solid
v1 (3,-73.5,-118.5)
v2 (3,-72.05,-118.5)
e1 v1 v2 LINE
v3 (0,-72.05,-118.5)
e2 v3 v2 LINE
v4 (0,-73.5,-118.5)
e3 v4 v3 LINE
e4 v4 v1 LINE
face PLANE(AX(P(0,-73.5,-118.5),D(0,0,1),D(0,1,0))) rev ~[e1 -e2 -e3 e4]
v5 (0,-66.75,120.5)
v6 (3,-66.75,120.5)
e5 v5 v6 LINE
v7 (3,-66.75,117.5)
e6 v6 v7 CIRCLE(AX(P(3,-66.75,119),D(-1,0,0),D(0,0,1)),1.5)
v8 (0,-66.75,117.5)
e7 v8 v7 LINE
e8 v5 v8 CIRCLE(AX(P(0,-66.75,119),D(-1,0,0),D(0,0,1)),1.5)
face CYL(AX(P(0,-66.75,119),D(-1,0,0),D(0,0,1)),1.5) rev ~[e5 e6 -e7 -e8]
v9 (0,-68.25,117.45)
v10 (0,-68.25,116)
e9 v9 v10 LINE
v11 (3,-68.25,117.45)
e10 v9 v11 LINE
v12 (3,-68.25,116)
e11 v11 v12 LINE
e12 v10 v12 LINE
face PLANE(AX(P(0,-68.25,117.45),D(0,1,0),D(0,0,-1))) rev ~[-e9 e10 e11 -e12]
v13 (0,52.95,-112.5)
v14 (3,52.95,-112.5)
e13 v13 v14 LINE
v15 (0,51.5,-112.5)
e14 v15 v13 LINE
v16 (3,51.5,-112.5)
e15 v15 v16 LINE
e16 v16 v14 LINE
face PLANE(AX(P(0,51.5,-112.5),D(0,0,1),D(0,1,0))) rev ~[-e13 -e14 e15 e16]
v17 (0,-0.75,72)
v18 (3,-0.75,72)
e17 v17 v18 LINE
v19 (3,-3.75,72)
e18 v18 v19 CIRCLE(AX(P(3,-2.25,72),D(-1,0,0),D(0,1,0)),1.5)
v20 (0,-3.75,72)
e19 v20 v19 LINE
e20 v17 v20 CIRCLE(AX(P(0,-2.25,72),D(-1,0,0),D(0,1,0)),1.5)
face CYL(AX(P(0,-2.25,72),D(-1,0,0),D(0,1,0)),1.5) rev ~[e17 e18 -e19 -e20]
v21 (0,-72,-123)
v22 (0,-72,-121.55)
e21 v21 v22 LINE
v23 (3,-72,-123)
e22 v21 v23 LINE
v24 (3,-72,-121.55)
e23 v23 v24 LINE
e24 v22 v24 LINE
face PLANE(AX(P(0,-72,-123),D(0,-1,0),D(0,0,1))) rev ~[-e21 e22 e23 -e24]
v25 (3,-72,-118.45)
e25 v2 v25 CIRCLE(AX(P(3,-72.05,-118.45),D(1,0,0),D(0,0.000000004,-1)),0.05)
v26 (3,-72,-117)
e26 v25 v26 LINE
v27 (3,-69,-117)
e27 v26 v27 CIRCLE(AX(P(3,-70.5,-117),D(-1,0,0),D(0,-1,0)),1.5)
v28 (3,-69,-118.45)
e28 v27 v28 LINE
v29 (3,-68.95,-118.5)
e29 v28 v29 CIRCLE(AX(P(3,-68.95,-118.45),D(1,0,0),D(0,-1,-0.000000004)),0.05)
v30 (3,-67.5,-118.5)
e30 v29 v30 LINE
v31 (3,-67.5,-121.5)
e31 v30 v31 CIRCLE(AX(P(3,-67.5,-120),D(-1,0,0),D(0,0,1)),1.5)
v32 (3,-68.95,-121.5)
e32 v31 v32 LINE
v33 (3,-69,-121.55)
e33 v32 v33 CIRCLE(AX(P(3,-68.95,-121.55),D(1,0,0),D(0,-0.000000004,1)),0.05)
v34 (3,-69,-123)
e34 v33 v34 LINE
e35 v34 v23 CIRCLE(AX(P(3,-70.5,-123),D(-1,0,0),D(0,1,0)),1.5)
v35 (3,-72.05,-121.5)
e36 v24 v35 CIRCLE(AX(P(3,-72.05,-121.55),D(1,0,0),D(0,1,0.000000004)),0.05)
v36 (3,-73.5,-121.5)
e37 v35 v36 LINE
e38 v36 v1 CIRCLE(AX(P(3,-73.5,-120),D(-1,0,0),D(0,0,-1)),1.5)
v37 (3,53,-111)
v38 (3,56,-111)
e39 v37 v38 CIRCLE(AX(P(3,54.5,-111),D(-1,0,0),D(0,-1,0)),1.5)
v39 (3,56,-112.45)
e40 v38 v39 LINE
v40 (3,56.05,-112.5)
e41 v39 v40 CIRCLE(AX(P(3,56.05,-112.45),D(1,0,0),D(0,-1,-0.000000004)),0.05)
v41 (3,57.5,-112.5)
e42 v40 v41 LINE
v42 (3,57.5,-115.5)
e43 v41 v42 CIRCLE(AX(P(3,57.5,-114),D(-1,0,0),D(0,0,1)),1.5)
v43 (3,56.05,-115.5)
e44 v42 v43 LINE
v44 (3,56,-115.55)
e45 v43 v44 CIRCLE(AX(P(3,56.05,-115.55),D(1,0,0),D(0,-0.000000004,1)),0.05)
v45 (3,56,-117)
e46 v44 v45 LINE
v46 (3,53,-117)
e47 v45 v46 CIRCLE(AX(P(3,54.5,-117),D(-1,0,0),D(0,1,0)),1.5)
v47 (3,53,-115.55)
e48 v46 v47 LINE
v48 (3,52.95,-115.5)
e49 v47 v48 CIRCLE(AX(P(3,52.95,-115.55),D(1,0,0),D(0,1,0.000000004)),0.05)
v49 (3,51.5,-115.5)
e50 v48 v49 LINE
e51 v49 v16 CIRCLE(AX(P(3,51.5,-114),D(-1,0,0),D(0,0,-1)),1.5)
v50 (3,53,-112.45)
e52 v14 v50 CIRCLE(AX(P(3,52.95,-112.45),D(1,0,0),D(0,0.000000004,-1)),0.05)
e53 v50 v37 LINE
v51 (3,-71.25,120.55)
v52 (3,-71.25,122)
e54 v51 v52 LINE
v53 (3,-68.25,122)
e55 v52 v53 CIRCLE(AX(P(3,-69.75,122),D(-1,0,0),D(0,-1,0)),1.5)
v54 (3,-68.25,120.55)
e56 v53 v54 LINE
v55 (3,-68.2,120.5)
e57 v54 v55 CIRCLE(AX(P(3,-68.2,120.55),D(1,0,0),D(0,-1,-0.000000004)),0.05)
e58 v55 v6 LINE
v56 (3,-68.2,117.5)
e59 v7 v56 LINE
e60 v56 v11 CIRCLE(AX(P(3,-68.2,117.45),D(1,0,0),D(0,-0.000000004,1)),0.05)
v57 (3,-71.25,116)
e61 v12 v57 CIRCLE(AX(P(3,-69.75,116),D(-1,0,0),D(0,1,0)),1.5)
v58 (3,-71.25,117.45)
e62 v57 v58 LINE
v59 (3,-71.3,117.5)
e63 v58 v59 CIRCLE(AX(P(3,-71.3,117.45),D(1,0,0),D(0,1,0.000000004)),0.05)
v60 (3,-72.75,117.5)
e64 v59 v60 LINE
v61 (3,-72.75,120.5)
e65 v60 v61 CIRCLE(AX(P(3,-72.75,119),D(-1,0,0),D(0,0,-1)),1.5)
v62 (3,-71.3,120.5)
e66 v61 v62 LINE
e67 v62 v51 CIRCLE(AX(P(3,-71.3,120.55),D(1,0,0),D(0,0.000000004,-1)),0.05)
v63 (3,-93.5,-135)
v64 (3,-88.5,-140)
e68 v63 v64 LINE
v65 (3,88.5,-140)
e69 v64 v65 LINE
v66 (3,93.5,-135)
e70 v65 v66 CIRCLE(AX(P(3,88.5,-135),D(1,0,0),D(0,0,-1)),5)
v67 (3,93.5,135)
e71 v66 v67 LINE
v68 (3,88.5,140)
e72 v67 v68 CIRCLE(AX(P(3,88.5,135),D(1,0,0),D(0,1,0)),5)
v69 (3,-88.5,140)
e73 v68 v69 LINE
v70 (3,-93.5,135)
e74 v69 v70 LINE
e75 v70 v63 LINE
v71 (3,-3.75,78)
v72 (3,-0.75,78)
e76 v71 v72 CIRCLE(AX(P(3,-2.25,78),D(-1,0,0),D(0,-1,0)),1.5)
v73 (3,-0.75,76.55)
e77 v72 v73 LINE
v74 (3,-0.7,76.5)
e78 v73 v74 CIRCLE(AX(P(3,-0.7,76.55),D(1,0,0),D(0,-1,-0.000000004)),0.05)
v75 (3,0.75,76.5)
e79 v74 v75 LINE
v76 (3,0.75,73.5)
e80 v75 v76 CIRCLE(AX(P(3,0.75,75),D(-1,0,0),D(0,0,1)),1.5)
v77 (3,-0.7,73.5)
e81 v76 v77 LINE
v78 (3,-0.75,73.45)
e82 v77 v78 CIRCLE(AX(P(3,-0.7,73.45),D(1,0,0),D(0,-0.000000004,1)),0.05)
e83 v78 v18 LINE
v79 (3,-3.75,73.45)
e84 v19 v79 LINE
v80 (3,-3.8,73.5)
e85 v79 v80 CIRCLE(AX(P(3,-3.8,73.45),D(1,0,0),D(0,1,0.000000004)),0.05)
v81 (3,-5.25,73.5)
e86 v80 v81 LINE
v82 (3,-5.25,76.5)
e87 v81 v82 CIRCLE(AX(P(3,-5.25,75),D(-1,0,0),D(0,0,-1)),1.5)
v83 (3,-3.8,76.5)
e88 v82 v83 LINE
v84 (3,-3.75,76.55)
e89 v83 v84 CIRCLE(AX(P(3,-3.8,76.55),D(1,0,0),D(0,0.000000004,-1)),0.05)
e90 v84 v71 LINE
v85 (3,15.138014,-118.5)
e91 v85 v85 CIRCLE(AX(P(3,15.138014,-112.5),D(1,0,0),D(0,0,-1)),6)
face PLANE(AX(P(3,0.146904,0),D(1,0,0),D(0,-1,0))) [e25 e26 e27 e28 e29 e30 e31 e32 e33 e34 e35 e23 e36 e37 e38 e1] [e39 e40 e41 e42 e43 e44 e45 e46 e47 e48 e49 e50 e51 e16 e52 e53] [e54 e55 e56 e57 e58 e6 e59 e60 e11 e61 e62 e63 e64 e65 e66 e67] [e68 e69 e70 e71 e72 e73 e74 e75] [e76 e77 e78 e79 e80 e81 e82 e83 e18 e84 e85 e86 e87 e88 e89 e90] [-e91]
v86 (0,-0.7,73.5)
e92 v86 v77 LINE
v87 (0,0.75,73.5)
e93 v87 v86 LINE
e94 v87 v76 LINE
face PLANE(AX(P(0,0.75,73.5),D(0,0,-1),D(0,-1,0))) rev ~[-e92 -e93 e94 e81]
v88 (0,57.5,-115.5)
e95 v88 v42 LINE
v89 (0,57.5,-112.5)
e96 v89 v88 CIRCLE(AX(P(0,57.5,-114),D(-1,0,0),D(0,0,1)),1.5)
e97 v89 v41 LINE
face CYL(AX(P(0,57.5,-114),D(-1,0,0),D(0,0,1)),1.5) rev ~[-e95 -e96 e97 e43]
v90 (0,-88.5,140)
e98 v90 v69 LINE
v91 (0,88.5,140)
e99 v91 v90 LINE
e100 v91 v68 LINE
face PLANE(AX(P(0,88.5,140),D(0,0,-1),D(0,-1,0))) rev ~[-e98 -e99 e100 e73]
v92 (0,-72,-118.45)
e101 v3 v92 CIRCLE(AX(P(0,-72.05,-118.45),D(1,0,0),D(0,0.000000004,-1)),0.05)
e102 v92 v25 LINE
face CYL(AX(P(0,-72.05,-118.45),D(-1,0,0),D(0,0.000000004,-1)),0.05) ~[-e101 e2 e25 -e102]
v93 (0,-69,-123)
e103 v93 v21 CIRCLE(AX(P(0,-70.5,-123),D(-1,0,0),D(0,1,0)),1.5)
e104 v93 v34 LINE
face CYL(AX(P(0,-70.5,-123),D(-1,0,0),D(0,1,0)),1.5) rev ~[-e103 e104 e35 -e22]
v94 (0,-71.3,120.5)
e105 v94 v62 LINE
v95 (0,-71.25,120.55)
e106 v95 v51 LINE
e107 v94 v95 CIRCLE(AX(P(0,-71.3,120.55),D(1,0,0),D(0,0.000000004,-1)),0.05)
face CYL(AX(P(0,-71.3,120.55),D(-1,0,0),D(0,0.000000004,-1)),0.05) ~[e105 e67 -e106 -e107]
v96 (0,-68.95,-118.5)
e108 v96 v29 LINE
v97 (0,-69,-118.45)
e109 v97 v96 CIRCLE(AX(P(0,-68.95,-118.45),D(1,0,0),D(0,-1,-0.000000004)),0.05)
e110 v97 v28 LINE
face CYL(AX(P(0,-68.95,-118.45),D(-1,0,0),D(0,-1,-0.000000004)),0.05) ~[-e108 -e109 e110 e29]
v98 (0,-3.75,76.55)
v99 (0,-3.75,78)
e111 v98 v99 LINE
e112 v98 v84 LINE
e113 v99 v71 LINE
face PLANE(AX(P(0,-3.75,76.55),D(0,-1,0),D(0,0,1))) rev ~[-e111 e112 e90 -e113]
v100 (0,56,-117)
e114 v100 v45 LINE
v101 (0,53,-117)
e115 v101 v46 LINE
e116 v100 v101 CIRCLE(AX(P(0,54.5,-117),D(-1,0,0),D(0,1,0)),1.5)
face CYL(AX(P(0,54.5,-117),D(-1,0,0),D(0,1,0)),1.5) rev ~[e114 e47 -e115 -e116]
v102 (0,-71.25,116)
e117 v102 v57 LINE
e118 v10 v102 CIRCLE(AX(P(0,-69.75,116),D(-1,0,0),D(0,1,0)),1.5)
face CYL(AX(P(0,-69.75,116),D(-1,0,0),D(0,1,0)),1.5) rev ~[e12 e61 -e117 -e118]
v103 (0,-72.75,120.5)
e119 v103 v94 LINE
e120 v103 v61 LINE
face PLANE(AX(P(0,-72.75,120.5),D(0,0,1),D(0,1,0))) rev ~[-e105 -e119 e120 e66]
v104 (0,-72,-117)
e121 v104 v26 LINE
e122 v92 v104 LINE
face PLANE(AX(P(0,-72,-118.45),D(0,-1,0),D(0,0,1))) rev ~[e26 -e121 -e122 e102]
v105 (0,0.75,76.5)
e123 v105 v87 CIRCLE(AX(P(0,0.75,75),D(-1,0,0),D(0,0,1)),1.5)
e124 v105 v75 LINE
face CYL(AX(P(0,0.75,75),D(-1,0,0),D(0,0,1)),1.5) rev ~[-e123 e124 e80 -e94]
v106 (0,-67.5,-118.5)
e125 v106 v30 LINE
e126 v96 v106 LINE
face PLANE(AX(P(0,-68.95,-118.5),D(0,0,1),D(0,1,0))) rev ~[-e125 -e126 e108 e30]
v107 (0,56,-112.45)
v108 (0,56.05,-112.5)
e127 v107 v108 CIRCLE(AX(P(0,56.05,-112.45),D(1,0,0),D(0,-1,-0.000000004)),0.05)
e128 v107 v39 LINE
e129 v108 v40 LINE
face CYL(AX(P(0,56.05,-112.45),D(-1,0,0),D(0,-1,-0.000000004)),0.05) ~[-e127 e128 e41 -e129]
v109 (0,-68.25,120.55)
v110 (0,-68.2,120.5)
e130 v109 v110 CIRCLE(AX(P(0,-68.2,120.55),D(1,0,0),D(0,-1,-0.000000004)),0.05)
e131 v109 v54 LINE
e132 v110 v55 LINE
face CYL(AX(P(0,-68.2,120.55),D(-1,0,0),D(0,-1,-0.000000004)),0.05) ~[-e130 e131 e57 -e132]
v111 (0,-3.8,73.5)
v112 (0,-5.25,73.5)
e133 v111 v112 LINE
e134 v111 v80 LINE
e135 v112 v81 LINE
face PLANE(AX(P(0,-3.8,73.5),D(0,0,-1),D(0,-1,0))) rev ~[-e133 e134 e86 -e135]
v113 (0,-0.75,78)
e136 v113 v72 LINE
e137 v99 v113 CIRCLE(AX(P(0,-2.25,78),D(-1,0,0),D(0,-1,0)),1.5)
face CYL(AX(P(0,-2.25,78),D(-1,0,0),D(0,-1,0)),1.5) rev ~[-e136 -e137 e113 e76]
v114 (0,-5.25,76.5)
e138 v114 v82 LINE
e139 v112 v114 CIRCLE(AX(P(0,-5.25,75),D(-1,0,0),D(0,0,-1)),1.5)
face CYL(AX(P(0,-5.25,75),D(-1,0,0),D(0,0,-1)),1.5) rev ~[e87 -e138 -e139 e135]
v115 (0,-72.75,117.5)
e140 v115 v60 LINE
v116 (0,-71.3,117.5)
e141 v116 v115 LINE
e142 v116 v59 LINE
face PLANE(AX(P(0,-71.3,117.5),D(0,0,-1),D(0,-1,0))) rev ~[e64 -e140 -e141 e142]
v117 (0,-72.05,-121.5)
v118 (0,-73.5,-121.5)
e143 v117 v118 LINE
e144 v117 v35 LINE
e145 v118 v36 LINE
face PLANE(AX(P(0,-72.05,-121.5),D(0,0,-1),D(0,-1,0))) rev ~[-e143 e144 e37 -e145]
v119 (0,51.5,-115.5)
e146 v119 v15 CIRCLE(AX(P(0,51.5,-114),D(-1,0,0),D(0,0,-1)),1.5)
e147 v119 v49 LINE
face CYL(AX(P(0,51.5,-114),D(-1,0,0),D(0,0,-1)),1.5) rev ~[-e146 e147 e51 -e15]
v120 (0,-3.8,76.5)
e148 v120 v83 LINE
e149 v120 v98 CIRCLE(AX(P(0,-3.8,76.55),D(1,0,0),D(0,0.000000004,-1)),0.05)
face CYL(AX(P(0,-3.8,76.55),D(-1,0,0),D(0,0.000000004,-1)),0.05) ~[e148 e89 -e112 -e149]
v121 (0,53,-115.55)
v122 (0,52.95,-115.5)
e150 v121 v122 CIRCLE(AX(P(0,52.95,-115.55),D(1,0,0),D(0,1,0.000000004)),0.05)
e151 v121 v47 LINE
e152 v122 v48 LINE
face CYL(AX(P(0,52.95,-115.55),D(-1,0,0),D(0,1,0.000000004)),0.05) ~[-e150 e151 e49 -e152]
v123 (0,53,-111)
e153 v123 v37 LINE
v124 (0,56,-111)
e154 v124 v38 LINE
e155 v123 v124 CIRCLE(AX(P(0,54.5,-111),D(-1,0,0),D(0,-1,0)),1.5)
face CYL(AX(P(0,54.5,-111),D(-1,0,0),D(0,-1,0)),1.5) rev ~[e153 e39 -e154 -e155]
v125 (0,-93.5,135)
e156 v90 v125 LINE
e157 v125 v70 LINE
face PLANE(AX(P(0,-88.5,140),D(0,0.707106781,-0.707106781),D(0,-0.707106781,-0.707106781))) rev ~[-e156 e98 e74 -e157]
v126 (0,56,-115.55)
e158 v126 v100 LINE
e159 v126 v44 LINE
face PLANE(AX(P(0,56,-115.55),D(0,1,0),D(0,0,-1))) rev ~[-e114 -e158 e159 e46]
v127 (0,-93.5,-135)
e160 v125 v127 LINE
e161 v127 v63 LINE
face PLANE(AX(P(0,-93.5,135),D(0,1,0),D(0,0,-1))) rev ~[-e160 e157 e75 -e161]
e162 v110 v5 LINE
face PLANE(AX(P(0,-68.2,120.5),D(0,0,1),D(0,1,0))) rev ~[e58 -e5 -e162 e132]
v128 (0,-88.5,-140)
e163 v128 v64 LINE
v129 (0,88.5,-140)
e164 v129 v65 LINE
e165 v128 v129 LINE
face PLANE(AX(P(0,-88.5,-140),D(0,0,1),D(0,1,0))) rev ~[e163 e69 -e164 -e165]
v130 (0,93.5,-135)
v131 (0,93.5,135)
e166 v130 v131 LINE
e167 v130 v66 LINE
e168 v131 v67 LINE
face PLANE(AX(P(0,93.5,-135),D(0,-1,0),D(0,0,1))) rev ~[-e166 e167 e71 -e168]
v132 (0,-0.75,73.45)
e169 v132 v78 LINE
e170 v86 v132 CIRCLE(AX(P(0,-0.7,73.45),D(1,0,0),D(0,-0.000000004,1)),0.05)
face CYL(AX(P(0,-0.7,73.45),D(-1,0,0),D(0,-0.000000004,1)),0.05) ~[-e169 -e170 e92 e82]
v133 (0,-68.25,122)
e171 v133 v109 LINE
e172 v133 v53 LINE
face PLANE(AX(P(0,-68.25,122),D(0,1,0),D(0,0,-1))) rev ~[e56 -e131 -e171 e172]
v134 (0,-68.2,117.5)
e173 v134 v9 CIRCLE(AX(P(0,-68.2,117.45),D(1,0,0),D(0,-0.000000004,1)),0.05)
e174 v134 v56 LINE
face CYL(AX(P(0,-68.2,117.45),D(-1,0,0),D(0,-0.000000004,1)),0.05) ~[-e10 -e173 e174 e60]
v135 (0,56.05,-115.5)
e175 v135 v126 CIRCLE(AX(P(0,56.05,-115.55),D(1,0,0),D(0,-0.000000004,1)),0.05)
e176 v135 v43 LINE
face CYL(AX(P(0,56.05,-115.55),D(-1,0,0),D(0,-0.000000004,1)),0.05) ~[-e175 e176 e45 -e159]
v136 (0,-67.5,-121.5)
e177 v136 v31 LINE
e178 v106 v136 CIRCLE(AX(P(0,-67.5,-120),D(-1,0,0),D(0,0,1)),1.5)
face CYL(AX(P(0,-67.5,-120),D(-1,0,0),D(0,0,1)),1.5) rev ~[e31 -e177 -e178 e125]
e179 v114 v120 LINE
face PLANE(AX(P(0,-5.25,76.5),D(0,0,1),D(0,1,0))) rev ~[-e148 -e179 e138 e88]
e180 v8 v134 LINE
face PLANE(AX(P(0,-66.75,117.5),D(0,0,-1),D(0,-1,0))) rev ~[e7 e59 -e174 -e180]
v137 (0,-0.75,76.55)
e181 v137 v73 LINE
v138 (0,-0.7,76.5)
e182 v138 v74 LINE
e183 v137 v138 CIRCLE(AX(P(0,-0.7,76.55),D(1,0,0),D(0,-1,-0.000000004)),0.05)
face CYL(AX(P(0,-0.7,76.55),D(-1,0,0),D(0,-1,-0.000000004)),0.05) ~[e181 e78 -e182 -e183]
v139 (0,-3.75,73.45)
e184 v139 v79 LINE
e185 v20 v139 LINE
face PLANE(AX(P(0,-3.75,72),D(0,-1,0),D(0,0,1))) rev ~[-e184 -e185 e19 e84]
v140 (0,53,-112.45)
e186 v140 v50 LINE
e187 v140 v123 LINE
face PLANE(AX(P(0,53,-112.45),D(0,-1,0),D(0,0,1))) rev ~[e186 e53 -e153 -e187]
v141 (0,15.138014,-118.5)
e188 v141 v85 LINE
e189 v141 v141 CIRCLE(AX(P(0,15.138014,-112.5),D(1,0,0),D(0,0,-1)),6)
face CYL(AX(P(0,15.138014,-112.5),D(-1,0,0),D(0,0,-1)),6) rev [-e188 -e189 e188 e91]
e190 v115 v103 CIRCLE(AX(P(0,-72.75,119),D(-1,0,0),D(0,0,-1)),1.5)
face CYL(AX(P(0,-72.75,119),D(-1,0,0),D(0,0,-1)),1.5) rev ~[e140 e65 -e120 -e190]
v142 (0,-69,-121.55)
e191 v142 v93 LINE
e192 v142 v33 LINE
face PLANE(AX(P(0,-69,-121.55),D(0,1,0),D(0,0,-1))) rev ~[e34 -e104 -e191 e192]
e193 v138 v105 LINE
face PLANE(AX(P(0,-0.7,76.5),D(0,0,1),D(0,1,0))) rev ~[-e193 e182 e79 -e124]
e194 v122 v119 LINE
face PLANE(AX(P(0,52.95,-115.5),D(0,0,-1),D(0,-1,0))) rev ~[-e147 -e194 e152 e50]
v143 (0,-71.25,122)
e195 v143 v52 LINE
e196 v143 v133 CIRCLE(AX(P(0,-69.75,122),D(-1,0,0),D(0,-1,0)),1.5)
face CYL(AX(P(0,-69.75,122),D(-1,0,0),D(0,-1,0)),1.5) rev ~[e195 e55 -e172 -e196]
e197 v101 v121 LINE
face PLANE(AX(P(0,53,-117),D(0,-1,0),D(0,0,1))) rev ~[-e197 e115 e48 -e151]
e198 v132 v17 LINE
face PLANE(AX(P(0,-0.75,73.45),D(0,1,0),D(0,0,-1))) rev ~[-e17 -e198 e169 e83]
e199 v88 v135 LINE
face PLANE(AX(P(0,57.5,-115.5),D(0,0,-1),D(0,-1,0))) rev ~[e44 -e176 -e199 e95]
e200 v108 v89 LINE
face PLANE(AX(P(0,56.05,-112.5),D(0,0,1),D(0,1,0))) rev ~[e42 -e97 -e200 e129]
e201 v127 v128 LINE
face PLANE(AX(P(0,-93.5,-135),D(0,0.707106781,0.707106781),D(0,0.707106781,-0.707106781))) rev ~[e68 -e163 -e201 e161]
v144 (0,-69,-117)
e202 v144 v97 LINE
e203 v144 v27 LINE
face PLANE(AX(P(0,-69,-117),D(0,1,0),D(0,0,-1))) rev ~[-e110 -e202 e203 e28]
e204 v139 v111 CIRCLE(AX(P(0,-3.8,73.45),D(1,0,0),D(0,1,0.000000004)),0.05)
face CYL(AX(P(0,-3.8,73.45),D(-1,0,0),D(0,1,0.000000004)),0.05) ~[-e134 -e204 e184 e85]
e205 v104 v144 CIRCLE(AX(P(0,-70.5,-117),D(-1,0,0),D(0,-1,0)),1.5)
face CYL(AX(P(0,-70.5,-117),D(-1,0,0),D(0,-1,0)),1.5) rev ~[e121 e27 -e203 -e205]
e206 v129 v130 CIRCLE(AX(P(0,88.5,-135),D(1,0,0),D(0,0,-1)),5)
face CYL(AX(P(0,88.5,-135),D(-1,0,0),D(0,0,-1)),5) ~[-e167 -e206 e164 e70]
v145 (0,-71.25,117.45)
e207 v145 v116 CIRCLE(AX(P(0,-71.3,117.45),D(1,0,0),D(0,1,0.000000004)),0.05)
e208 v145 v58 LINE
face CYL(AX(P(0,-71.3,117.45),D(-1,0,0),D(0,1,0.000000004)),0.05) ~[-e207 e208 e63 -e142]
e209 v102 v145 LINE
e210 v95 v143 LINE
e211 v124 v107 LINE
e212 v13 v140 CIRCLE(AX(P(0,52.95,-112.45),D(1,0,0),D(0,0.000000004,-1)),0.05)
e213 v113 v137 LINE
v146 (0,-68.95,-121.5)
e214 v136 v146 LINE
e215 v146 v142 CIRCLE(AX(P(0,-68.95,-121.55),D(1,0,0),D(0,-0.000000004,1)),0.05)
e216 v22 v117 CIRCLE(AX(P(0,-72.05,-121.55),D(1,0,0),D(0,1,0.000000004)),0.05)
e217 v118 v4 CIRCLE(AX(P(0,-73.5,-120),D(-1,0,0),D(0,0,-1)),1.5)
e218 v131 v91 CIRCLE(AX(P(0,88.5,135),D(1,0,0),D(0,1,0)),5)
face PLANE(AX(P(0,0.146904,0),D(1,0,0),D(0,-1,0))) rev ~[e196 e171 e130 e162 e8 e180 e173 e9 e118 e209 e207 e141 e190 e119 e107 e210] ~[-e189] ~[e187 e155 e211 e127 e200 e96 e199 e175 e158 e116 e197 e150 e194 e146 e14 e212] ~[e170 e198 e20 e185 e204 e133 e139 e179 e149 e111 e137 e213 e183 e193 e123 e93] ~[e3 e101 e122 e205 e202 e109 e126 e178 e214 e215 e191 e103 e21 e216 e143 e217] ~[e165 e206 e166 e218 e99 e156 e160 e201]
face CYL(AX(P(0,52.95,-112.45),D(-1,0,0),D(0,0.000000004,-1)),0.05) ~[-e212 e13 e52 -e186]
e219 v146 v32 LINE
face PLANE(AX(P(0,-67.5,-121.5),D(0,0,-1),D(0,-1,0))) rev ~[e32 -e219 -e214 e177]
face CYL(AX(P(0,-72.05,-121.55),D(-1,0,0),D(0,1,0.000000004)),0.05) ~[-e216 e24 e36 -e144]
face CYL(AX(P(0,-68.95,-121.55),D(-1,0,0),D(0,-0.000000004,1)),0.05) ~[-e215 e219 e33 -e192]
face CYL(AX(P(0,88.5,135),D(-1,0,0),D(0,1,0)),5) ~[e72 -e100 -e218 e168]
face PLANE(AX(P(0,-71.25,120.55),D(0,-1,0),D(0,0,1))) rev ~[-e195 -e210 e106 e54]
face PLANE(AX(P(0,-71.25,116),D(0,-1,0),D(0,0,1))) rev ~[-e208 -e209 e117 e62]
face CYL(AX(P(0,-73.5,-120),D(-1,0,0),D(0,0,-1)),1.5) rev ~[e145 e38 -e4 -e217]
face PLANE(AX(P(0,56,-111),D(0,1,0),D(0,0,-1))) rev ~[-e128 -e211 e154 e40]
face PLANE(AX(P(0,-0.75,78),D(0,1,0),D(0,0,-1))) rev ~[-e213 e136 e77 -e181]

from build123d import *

# Parameters (mm, degrees)
SKETCH1_R           = 6
BOSS_EXTRUDE1_DEPTH = 3


with BuildPart() as part:
    # Sketch1 → Boss-Extrude1 (new body)
    with BuildSketch(Plane(origin=(0, 0, 0), x_dir=(0, -1, 0), z_dir=(1, 0, 0))):
        with BuildLine():
            Line((-93.5, 135), (-93.5, -135))
            ThreePointArc((-93.5, -135), (-92.035533906, -138.535533906), (-88.5, -140))
            Line((-88.5, -140), (88.5, -140))
            Line((88.5, -140), (93.5, -135))
            Line((93.5, -135), (93.5, 135))
            Line((93.5, 135), (88.5, 140))
            Line((88.5, 140), (-88.5, 140))
            ThreePointArc((-88.5, 140), (-92.035533906, 138.535533906), (-93.5, 135))
        make_face()
        with Locations(Location((-15.138013541, 112.5, 0), (0, 0, 90))):
            Circle(SKETCH1_R, mode=Mode.SUBTRACT)
        with BuildLine():
            Line((-52.95, 115.5), (-51.5, 115.5))
            ThreePointArc((-51.5, 115.5), (-50, 114), (-51.5, 112.5))
            Line((-51.5, 112.5), (-52.95, 112.5))
            ThreePointArc((-52.95, 112.5), (-52.985355339, 112.485355339), (-53, 112.45))
            Line((-53, 112.45), (-53, 111))
            ThreePointArc((-53, 111), (-54.5, 109.5), (-56, 111))
            Line((-56, 111), (-56, 112.45))
            ThreePointArc((-56, 112.45), (-56.014644661, 112.485355339), (-56.05, 112.5))
            Line((-56.05, 112.5), (-57.5, 112.5))
            ThreePointArc((-57.5, 112.5), (-59, 114), (-57.5, 115.5))
            Line((-57.5, 115.5), (-56.05, 115.5))
            ThreePointArc((-56.05, 115.5), (-56.014644661, 115.514644661), (-56, 115.55))
            Line((-56, 115.55), (-56, 117))
            ThreePointArc((-56, 117), (-54.5, 118.5), (-53, 117))
            Line((-53, 117), (-53, 115.55))
            ThreePointArc((-53, 115.55), (-52.985355339, 115.514644661), (-52.95, 115.5))
        make_face(mode=Mode.SUBTRACT)
        with BuildLine():
            Line((67.5, 121.5), (68.95, 121.5))
            ThreePointArc((68.95, 121.5), (68.985355339, 121.514644661), (69, 121.55))
            Line((69, 121.55), (69, 123))
            ThreePointArc((69, 123), (70.5, 124.5), (72, 123))
            Line((72, 123), (72, 121.55))
            ThreePointArc((72, 121.55), (72.014644661, 121.514644661), (72.05, 121.5))
            Line((72.05, 121.5), (73.5, 121.5))
            ThreePointArc((73.5, 121.5), (75, 120), (73.5, 118.5))
            Line((73.5, 118.5), (72.05, 118.5))
            ThreePointArc((72.05, 118.5), (72.014644661, 118.485355339), (72, 118.45))
            Line((72, 118.45), (72, 117))
            ThreePointArc((72, 117), (70.5, 115.5), (69, 117))
            Line((69, 117), (69, 118.45))
            ThreePointArc((69, 118.45), (68.985355339, 118.485355339), (68.95, 118.5))
            Line((68.95, 118.5), (67.5, 118.5))
            ThreePointArc((67.5, 118.5), (66, 120), (67.5, 121.5))
        make_face(mode=Mode.SUBTRACT)
        with BuildLine():
            Line((3.75, -72), (3.75, -73.45))
            ThreePointArc((3.75, -73.45), (3.764644661, -73.485355339), (3.8, -73.5))
            Line((3.8, -73.5), (5.25, -73.5))
            ThreePointArc((5.25, -73.5), (6.75, -75), (5.25, -76.5))
            Line((5.25, -76.5), (3.8, -76.5))
            ThreePointArc((3.8, -76.5), (3.764644661, -76.514644661), (3.75, -76.55))
            Line((3.75, -76.55), (3.75, -78))
            ThreePointArc((3.75, -78), (2.25, -79.5), (0.75, -78))
            Line((0.75, -78), (0.75, -76.55))
            ThreePointArc((0.75, -76.55), (0.735355339, -76.514644661), (0.7, -76.5))
            Line((0.7, -76.5), (-0.75, -76.5))
            ThreePointArc((-0.75, -76.5), (-2.25, -75), (-0.75, -73.5))
            Line((-0.75, -73.5), (0.7, -73.5))
            ThreePointArc((0.7, -73.5), (0.735355339, -73.485355339), (0.75, -73.45))
            Line((0.75, -73.45), (0.75, -72))
            ThreePointArc((0.75, -72), (2.25, -70.5), (3.75, -72))
        make_face(mode=Mode.SUBTRACT)
        with BuildLine():
            Line((71.25, -116), (71.25, -117.45))
            ThreePointArc((71.25, -117.45), (71.264644661, -117.485355339), (71.3, -117.5))
            Line((71.3, -117.5), (72.75, -117.5))
            ThreePointArc((72.75, -117.5), (74.25, -119), (72.75, -120.5))
            Line((72.75, -120.5), (71.3, -120.5))
            ThreePointArc((71.3, -120.5), (71.264644661, -120.514644661), (71.25, -120.55))
            Line((71.25, -120.55), (71.25, -122))
            ThreePointArc((71.25, -122), (69.75, -123.5), (68.25, -122))
            Line((68.25, -122), (68.25, -120.55))
            ThreePointArc((68.25, -120.55), (68.235355339, -120.514644661), (68.2, -120.5))
            Line((68.2, -120.5), (66.75, -120.5))
            ThreePointArc((66.75, -120.5), (65.25, -119), (66.75, -117.5))
            Line((66.75, -117.5), (68.2, -117.5))
            ThreePointArc((68.2, -117.5), (68.235355339, -117.485355339), (68.25, -117.45))
            Line((68.25, -117.45), (68.25, -116))
            ThreePointArc((68.25, -116), (69.75, -114.5), (71.25, -116))
        make_face(mode=Mode.SUBTRACT)
    extrude(amount=BOSS_EXTRUDE1_DEPTH)


solid = part.part
